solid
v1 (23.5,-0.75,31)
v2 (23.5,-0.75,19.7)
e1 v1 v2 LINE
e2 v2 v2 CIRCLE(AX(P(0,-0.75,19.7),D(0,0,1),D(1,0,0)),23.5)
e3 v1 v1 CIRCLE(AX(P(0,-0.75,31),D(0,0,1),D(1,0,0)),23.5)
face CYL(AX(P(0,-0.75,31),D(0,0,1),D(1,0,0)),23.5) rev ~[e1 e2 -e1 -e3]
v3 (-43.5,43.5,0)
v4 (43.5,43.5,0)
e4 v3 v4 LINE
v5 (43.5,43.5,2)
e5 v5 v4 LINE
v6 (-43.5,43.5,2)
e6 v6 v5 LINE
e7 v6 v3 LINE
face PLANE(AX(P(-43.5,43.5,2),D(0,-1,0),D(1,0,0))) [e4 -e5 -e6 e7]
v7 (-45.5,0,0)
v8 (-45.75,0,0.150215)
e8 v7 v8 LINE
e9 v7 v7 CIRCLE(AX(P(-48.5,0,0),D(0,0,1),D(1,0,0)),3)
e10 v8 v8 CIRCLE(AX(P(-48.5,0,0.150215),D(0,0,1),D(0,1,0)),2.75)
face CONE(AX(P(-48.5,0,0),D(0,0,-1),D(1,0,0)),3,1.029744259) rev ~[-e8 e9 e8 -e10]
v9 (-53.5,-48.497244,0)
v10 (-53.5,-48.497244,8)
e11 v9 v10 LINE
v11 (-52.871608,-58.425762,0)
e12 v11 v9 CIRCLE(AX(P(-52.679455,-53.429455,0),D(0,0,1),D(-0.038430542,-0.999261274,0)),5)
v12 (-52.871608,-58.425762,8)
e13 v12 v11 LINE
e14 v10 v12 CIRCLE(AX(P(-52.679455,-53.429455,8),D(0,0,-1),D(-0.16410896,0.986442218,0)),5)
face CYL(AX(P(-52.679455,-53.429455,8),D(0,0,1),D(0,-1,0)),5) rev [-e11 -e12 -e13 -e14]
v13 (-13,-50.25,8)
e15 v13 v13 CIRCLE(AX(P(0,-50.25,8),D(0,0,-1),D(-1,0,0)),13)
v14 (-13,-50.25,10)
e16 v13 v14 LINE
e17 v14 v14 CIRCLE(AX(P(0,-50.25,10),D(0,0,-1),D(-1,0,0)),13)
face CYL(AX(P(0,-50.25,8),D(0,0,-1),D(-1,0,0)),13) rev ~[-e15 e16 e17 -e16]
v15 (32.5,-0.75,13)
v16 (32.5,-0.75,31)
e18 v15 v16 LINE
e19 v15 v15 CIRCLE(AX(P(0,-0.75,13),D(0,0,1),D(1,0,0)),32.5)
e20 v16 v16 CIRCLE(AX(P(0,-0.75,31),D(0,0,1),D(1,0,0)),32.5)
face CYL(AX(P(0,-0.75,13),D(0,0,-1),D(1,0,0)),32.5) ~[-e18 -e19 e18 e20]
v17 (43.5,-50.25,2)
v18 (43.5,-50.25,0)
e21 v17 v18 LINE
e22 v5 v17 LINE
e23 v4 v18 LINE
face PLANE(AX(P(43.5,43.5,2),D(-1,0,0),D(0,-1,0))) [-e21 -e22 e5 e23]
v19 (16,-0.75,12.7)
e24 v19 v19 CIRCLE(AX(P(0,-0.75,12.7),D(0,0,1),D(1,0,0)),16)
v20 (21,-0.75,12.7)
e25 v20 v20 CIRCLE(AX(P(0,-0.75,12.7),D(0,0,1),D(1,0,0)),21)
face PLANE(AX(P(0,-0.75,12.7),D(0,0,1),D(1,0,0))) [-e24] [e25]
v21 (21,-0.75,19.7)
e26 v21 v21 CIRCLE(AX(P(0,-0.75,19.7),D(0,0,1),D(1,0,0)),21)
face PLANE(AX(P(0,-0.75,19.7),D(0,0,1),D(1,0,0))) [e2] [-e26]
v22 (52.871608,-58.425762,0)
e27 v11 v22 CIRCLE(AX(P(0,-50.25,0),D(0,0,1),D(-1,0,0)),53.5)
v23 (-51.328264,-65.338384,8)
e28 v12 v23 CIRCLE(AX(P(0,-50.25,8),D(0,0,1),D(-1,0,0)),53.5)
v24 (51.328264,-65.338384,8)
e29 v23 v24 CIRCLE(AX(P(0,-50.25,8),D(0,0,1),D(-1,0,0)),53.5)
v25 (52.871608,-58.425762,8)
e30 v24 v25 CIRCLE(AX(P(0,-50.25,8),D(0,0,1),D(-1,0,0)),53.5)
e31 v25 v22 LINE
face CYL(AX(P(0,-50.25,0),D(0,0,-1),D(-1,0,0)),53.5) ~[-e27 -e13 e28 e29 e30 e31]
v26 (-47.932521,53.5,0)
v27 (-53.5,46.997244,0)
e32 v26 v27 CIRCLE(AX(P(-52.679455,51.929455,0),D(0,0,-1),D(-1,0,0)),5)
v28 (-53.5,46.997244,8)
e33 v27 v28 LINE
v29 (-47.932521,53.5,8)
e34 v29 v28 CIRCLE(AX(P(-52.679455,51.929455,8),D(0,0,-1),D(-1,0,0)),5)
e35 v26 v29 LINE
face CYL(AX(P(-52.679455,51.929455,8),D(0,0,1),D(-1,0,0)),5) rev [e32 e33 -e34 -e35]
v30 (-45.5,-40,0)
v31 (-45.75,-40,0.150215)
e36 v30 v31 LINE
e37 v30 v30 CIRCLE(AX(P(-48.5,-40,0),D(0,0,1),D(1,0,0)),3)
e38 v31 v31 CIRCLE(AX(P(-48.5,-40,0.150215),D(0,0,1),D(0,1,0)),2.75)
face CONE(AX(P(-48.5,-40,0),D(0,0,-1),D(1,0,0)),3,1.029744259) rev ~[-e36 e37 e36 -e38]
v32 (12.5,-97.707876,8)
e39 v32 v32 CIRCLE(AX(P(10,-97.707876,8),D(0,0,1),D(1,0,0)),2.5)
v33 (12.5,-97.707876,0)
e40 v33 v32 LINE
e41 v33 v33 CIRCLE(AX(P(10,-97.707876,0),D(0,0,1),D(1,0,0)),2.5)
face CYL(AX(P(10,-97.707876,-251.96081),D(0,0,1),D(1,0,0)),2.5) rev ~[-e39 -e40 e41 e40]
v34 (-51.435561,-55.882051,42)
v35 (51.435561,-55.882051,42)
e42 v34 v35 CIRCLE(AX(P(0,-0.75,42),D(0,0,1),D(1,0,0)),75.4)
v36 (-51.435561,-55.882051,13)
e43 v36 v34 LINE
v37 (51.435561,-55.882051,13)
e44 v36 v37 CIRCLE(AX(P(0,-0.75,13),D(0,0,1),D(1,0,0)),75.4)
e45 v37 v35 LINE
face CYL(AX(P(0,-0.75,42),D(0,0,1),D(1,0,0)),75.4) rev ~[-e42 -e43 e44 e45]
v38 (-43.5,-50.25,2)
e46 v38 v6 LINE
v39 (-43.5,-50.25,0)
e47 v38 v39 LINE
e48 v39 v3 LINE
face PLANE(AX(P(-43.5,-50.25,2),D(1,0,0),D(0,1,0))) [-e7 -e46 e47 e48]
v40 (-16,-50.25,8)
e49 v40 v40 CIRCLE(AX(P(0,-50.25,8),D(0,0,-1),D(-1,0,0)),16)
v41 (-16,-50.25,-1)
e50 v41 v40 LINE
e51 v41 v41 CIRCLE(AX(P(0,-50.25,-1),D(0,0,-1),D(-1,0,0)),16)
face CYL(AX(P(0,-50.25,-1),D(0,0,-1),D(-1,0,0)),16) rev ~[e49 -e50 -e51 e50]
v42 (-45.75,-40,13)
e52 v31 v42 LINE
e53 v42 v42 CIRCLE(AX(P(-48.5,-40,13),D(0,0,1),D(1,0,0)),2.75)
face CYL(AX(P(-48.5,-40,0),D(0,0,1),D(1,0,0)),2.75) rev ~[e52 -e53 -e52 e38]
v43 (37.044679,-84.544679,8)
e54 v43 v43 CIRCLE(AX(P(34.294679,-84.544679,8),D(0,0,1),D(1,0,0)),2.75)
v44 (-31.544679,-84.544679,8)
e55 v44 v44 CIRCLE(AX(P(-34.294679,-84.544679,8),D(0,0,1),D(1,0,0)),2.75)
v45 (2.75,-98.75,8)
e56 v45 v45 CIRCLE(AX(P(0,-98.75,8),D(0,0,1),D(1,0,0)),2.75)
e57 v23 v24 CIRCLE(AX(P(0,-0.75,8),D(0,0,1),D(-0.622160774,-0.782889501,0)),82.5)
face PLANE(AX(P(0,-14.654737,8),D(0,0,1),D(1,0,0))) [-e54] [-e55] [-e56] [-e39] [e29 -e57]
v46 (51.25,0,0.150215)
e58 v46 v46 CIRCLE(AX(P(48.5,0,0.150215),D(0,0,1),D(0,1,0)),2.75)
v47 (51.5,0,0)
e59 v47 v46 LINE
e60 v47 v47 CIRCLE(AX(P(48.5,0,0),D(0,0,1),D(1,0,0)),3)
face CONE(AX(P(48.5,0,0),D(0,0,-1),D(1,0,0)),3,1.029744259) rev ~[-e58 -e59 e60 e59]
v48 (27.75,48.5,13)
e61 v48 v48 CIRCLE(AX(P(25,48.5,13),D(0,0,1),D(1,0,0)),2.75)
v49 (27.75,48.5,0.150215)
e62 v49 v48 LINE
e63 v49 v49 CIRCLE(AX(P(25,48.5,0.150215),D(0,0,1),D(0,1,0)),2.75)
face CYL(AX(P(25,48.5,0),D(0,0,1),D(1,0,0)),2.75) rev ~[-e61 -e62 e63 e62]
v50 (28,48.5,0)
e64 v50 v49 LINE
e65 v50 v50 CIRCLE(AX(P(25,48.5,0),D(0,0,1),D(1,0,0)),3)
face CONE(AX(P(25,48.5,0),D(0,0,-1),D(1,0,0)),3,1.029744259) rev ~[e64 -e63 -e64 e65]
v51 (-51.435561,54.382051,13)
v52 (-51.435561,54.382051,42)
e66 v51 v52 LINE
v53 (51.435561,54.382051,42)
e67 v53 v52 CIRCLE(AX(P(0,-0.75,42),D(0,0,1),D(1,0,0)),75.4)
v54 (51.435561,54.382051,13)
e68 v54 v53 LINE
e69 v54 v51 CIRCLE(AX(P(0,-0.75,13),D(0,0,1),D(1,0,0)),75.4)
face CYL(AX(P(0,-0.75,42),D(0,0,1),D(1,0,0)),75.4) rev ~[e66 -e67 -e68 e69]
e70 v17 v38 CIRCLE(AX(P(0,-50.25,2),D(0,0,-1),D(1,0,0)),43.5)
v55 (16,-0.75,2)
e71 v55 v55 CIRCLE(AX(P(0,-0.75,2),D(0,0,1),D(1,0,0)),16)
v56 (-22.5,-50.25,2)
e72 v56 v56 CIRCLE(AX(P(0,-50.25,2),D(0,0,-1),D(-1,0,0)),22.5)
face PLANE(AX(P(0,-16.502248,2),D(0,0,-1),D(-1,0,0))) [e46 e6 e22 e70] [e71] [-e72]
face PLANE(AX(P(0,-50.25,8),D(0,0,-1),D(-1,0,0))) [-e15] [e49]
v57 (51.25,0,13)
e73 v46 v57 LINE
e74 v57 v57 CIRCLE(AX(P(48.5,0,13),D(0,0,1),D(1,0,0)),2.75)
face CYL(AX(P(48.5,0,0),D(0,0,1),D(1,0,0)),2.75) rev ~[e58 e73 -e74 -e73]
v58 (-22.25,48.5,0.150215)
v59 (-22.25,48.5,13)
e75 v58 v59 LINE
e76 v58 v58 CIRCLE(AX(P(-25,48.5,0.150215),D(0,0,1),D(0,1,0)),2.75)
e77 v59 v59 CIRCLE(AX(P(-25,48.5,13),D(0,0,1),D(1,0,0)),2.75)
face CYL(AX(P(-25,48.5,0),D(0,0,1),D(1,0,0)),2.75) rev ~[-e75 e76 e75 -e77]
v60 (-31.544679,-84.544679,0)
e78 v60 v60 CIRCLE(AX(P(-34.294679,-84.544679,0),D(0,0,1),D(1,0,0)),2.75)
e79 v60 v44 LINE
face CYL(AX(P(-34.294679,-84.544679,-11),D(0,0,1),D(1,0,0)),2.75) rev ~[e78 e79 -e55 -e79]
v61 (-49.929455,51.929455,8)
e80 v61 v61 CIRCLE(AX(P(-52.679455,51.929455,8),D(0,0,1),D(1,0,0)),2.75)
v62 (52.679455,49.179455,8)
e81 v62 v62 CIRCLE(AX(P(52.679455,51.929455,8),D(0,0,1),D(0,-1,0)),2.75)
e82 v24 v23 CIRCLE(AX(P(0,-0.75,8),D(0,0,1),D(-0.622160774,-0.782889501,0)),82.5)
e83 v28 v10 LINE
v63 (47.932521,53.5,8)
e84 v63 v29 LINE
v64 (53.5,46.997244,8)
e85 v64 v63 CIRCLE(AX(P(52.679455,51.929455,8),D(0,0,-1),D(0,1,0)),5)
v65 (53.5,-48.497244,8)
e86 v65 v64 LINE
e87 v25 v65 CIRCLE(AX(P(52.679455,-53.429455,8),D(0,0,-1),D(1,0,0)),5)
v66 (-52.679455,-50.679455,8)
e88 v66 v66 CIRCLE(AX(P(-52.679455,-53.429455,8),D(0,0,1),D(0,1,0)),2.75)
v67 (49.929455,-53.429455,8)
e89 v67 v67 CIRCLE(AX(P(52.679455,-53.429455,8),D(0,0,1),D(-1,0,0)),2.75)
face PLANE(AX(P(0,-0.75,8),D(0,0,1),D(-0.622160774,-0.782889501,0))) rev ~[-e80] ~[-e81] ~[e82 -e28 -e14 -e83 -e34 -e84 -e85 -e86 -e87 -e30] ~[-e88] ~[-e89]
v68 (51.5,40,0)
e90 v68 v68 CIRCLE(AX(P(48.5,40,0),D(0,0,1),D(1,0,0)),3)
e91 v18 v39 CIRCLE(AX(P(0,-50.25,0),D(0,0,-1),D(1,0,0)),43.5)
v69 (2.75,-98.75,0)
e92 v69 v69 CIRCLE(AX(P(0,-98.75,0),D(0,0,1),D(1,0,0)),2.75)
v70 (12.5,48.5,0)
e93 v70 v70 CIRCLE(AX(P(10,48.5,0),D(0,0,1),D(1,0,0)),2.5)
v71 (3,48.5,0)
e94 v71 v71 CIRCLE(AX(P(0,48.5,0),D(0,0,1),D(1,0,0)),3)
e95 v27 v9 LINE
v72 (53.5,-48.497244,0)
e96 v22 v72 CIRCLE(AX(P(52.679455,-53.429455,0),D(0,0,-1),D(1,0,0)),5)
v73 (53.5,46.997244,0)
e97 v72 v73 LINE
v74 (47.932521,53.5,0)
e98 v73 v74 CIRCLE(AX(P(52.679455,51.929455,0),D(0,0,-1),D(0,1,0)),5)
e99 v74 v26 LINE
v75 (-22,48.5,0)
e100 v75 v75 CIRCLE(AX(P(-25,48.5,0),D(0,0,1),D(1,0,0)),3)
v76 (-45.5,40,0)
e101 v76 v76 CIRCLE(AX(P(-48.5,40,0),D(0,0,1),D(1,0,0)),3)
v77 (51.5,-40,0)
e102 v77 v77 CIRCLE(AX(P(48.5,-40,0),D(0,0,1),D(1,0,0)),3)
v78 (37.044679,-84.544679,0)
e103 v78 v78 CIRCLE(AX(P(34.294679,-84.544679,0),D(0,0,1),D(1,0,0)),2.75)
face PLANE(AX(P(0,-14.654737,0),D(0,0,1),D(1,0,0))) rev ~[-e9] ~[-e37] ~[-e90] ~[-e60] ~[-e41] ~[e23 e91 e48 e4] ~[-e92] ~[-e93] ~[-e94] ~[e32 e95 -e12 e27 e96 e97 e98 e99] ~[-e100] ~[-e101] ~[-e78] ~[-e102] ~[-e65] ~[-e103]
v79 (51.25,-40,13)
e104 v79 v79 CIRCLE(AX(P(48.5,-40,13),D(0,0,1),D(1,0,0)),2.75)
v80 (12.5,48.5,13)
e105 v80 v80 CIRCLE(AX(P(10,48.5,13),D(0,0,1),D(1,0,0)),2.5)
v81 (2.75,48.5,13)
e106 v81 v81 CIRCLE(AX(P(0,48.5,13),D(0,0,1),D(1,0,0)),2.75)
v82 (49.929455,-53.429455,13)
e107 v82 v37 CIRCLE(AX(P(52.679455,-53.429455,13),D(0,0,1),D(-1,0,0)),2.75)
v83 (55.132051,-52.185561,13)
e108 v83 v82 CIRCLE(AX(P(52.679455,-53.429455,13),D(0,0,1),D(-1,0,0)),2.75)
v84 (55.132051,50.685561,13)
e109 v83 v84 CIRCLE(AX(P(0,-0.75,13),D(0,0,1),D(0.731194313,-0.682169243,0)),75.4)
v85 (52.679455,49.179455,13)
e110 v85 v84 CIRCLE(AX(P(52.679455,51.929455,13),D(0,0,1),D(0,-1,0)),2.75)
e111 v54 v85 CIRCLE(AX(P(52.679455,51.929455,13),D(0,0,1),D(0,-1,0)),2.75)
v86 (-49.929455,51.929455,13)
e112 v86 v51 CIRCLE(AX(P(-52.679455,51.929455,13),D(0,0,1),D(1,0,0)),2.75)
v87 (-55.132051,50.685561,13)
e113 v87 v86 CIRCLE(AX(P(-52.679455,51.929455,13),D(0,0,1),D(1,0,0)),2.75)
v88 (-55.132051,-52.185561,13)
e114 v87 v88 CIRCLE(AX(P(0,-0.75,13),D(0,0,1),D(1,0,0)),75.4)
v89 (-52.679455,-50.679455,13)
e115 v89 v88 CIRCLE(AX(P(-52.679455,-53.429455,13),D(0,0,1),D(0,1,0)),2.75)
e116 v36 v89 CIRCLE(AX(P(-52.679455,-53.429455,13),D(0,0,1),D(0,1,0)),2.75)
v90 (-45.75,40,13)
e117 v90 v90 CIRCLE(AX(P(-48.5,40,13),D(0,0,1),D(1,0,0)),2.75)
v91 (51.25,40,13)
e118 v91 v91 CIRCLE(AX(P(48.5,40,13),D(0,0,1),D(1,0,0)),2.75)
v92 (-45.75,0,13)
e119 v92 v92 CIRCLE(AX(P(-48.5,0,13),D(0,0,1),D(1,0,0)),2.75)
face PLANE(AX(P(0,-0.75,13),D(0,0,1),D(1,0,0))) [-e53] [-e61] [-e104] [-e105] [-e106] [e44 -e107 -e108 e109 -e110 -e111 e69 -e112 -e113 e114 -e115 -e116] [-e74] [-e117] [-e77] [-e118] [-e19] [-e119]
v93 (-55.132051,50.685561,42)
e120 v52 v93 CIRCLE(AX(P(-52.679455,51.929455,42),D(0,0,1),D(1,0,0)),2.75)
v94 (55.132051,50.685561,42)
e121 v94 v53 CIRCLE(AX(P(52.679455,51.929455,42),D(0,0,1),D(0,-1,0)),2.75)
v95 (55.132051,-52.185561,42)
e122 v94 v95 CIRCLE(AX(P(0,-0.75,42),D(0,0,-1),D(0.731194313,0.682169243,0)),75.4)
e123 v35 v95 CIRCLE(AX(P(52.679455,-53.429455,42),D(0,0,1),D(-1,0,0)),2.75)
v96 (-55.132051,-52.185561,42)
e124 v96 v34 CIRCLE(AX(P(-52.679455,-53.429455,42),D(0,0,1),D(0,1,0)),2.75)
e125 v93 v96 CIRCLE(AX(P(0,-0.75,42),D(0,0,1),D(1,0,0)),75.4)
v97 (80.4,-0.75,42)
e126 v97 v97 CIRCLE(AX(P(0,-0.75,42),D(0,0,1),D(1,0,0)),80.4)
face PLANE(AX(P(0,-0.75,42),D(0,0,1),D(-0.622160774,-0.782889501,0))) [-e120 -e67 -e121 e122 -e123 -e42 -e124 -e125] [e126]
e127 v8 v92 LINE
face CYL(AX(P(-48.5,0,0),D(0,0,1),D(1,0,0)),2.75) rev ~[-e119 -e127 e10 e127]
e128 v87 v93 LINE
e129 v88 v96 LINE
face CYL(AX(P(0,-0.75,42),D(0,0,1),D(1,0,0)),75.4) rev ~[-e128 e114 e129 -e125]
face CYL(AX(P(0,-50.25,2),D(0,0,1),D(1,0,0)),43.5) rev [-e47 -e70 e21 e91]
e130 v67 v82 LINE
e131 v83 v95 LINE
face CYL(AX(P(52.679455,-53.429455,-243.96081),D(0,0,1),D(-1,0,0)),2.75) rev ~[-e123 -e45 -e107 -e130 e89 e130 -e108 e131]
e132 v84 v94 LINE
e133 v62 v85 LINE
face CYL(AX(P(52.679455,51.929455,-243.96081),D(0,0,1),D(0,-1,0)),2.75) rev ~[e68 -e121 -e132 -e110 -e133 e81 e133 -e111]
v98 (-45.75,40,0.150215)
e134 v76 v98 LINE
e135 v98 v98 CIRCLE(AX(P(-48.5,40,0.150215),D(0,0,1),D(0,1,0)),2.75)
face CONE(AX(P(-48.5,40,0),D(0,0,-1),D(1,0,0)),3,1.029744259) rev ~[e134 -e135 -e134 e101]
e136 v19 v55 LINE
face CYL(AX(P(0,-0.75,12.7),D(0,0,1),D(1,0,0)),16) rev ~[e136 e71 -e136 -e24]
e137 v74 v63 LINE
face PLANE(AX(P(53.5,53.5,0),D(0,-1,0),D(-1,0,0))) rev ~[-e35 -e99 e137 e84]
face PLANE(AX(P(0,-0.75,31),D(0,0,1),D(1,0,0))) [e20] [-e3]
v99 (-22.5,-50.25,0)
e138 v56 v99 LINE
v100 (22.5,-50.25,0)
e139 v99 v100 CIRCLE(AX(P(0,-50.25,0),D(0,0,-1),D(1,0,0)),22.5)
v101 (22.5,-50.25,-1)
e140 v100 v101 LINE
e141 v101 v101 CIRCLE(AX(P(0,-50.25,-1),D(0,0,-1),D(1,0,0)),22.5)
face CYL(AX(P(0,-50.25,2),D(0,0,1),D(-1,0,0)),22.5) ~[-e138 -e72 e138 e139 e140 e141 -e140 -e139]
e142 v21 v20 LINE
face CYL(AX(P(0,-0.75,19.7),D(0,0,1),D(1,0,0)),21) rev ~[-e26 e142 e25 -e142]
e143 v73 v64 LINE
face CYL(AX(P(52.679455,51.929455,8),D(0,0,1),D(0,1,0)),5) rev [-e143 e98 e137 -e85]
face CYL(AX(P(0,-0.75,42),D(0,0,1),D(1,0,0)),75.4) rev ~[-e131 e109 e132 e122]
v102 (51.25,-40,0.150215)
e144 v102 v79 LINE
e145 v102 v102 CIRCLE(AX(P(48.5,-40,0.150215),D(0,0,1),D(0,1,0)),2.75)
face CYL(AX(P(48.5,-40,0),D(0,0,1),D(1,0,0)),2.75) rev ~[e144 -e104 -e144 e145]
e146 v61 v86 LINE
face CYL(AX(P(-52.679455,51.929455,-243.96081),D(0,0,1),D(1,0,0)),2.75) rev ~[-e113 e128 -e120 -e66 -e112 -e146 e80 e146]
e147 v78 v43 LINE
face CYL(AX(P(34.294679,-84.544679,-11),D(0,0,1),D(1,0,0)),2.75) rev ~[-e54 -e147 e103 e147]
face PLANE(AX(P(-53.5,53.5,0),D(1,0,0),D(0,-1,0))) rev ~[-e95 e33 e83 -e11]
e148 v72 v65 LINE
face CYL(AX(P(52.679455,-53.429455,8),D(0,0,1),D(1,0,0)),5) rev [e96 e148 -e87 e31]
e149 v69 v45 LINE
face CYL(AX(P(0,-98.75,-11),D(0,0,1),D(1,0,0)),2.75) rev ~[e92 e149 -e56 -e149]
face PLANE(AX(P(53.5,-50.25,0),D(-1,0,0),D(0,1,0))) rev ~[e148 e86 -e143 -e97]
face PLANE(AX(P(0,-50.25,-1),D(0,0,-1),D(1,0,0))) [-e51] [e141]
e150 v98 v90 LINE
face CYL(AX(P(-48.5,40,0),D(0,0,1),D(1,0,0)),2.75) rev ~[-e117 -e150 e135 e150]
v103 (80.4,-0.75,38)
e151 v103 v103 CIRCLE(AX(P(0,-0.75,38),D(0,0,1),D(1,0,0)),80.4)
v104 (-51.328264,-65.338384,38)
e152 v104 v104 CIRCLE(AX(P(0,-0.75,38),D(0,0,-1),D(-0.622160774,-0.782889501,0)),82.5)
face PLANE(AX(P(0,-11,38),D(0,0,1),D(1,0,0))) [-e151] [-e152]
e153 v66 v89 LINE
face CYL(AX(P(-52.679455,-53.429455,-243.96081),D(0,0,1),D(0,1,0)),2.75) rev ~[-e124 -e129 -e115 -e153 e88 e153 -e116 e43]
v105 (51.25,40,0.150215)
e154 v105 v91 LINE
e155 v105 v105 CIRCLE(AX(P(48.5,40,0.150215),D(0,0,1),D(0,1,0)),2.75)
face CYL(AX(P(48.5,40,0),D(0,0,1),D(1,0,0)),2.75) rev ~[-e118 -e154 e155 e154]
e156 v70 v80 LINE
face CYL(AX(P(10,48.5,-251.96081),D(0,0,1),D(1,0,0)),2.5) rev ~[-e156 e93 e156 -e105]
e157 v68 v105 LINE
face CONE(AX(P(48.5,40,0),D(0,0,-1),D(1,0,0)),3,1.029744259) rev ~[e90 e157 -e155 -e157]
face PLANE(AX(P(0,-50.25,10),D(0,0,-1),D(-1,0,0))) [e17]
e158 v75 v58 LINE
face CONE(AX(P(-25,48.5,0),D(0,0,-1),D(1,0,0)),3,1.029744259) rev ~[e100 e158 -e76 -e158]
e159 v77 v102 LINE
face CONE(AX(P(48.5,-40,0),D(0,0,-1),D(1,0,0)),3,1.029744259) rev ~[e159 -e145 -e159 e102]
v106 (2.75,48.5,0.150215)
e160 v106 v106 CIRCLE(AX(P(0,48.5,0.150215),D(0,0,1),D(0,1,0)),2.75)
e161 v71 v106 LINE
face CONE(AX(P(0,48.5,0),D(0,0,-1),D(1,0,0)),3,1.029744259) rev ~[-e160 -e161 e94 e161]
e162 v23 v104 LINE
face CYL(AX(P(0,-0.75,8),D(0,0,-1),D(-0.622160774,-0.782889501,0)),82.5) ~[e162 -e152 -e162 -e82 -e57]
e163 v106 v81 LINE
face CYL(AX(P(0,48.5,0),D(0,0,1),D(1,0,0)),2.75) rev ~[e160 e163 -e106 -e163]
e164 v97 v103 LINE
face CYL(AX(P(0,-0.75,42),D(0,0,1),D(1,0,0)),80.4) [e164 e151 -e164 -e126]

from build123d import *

# Parameters (mm, degrees)
EXTRUS_O1_DEPTH                        = 8
ESBO_O2_R                              = 82.5
EXTRUS_O2_DEPTH                        = 34
ESBO_O3_OUTSIDE_W                      = 217.358
ESBO_O3_OUTSIDE_H                      = 237.858
ESBO_O3_OUTSIDE_R                      = 80.4
CORTE_EXTRUS_O1_DEPTH                  = 4
ESBO_O4_R                              = 75.4
CORTE_EXTRUS_O2_DEPTH                  = 29
ESBO_O5_R                              = 32.5
EXTRUS_O3_DEPTH                        = 18
ESBO_O6_R                              = 23.5
CORTE_EXTRUS_O3_DEPTH                  = 11.3
ESBO_O7_R                              = 21
CORTE_EXTRUS_O4_DEPTH                  = 7
ESBO_O8_R                              = 16
CORTE_EXTRUS_O5_DEPTH                  = 136.752725571
ESBO_O9_R                              = 22.5
EXTRUS_O4_DEPTH                        = 1
ESBO_O10_R                             = 16
CORTE_EXTRUS_O7_DEPTH                  = 9
ESBO_O11_R                             = 13
CORTE_EXTRUS_O8_DEPTH                  = 2
FURO_DE_DI_METRO_5_5_5_5_1_D           = 5.5
FURO_DE_DI_METRO_5_5_5_5_1_CSINK_D     = 6
FURO_DE_DI_METRO_5_5_5_5_1_CSINK_ANGLE = 118
ESBO_O12_R                             = 5
CORTE_EXTRUS_O9_DEPTH                  = 8
FURO_DE_DI_METRO_5_5_5_5_2_D           = 5.5
CIRPATTERN1_COUNT                      = 4
CORTE_EXTRUS_O10_START                 = -2
ESBO_O18_R                             = 22.5
CORTE_EXTRUS_O10_DEPTH                 = 2
FURO_DE_DI_METRO_5_0_5_1_D             = 5
FURO_DE_DI_METRO_5_5_5_5_3_D           = 5.5
FURO_DE_DI_METRO_5_5_5_5_3_DEPTH       = 11
FURO_DE_DI_METRO_5_5_5_5_3_TIP         = 1.652366702


with BuildPart() as part:
    # Esboço1 → Extrusão1 (new body)
    with BuildSketch(Plane.XY):
        with BuildLine():
            Line((-53.5, 53.5), (-53.5, -50.25))
            ThreePointArc((-53.5, -50.25), (0, -103.75), (53.5, -50.25))
            Line((53.5, -50.25), (53.5, 53.5))
            Line((53.5, 53.5), (-53.5, 53.5))
        make_face()
    extrude(amount=EXTRUS_O1_DEPTH)

    # Esboço2 → Extrusão2 (add)
    with BuildSketch(Plane.XY.offset(8)):
        with Locations(Location((0, -0.75, 0), (0, 0, 231.525902072))):
            Circle(ESBO_O2_R)
    extrude(amount=EXTRUS_O2_DEPTH)

    # Esboço3 outside → Corte-extrusão1 (cut)
    with BuildSketch(Plane.XY.offset(42)):
        with Locations((0, -11)):
            Rectangle(ESBO_O3_OUTSIDE_W, ESBO_O3_OUTSIDE_H)
        with Locations((0, -0.75)):
            Circle(ESBO_O3_OUTSIDE_R, mode=Mode.SUBTRACT)
    extrude(amount=-CORTE_EXTRUS_O1_DEPTH, mode=Mode.SUBTRACT)

    # Esboço4 → Corte-extrusão2 (cut)
    with BuildSketch(Plane.XY.offset(42)):
        with Locations((0, -0.75)):
            Circle(ESBO_O4_R)
    extrude(amount=-CORTE_EXTRUS_O2_DEPTH, mode=Mode.SUBTRACT)

    # Esboço5 → Extrusão3 (add)
    with BuildSketch(Plane.XY.offset(13)):
        with Locations((0, -0.75)):
            Circle(ESBO_O5_R)
    extrude(amount=EXTRUS_O3_DEPTH)

    # Esboço6 → Corte-extrusão3 (cut)
    with BuildSketch(Plane.XY.offset(31)):
        with Locations((0, -0.75)):
            Circle(ESBO_O6_R)
    extrude(amount=-CORTE_EXTRUS_O3_DEPTH, mode=Mode.SUBTRACT)

    # Esboço7 → Corte-extrusão4 (cut)
    with BuildSketch(Plane.XY.offset(19.7)):
        with Locations((0, -0.75)):
            Circle(ESBO_O7_R)
    extrude(amount=-CORTE_EXTRUS_O4_DEPTH, mode=Mode.SUBTRACT)

    # Esboço8 → Corte-extrusão5 (cut, through all)
    with BuildSketch(Plane.XY.offset(12.7)):
        with Locations((0, -0.75)):
            Circle(ESBO_O8_R)
    extrude(amount=-CORTE_EXTRUS_O5_DEPTH, mode=Mode.SUBTRACT)

    # Esboço9 → Extrusão4 (add)
    with BuildSketch(Plane(origin=(0, 0, 0), x_dir=(-1, 0, 0), z_dir=(0, 0, -1))):
        with Locations(Location((0, -50.25, 0), (0, 0, 180))):
            Circle(ESBO_O9_R)
    extrude(amount=EXTRUS_O4_DEPTH)

    # Esboço10 → Corte-extrusão7 (cut)
    with BuildSketch(Plane(origin=(0, 0, -1), x_dir=(-1, 0, 0), z_dir=(0, 0, -1))):
        with Locations((0, -50.25)):
            Circle(ESBO_O10_R)
    extrude(amount=-CORTE_EXTRUS_O7_DEPTH, mode=Mode.SUBTRACT)

    # Esboço11 → Corte-extrusão8 (cut)
    with BuildSketch(Plane(origin=(0, 0, 8), x_dir=(-1, 0, 0), z_dir=(0, 0, -1))):
        with Locations((0, -50.25)):
            Circle(ESBO_O11_R)
    extrude(amount=-CORTE_EXTRUS_O8_DEPTH, mode=Mode.SUBTRACT)

    # Furo de diâmetro Ø5.5 (5.5)1 (through all)
    with Locations(Plane(origin=(0, 48.5, 0), x_dir=(-1, 0, 0), z_dir=(0, 0, -1))):
        with Locations((0, 0)):
            furo_de_di_metro_5_5_5_5_1 = CounterSinkHole(FURO_DE_DI_METRO_5_5_5_5_1_D / 2, FURO_DE_DI_METRO_5_5_5_5_1_CSINK_D / 2, counter_sink_angle=FURO_DE_DI_METRO_5_5_5_5_1_CSINK_ANGLE)

    # Esboço12 → Corte-extrusão9 (cut)
    with BuildSketch(Plane(origin=(0, 0, 8), x_dir=(-1, 0, 0), z_dir=(0, 0, -1))):
        with Locations((52.679455198, 51.929455198)):
            Circle(ESBO_O12_R)
    corte_extrus_o9 = extrude(amount=CORTE_EXTRUS_O9_DEPTH, mode=Mode.SUBTRACT)

    # Furo de diâmetro Ø5.5 (5.5)2 (through all)
    with Locations(Plane(origin=(-52.679455198, 51.929455198, 8), x_dir=(-1, 0, 0), z_dir=(0, 0, -1))):
        with Locations((0, 0)):
            furo_de_di_metro_5_5_5_5_2 = Hole(FURO_DE_DI_METRO_5_5_5_5_2_D / 2)

    # CirPattern1: Corte-extrusão9, Furo de diâmetro Ø5.5 (5.5)2 ×4 about axis
    cirpattern1_axis = Axis((0, -0.75, 0), (0, 0, 1))
    add([corte_extrus_o9.rotate(cirpattern1_axis, i * 360 / CIRPATTERN1_COUNT) for i in range(1, CIRPATTERN1_COUNT)], mode=Mode.SUBTRACT)
    add([furo_de_di_metro_5_5_5_5_2.rotate(cirpattern1_axis, i * 360 / CIRPATTERN1_COUNT) for i in range(1, CIRPATTERN1_COUNT)], mode=Mode.SUBTRACT)

    # Esboço-padrão1: Furo de diâmetro Ø5.5 (5.5)1 at 8 more places
    with Locations((-25, 0, 0), (-48.5, -8.5, 0), (-48.5, -48.5, 0), (-48.5, -88.5, 0), (48.5, -88.5, 0), (48.5, -48.5, 0), (48.5, -8.5, 0), (25, 0, 0)):
        add(furo_de_di_metro_5_5_5_5_1, mode=Mode.SUBTRACT)

    # Esboço18 → Corte-extrusão10 (cut)
    with BuildSketch(Plane(origin=(0, 0, 0), x_dir=(-1, 0, 0), z_dir=(0, 0, -1)).offset(CORTE_EXTRUS_O10_START)):
        with BuildLine():
            Line((43.5, -50.25), (43.5, 43.5))
            Line((43.5, 43.5), (-43.5, 43.5))
            Line((-43.5, 43.5), (-43.5, -50.25))
            ThreePointArc((-43.5, -50.25), (0, -93.75), (43.5, -50.25))
        make_face()
        with Locations((0, -50.25)):
            Circle(ESBO_O18_R, mode=Mode.SUBTRACT)
    extrude(amount=CORTE_EXTRUS_O10_DEPTH, mode=Mode.SUBTRACT)

    # Furo de diâmetro Ø5.0 (5)1 (through all)
    with Locations(Plane(origin=(10, 48.5, 0), x_dir=(-1, 0, 0), z_dir=(0, 0, -1))):
        with Locations((0, 0), (0, -146.207876059)):
            Hole(FURO_DE_DI_METRO_5_0_5_1_D / 2)

    # Furo de diâmetro Ø5.5 (5.5)3
    with Locations(Plane(origin=(0, -98.75, 0), x_dir=(-1, 0, 0), z_dir=(0, 0, -1))):
        with Locations((0, 0), (34.294678888, 14.205321112), (-34.294678888, 14.205321112)):
            Hole(FURO_DE_DI_METRO_5_5_5_5_3_D / 2, depth=FURO_DE_DI_METRO_5_5_5_5_3_DEPTH)
            with Locations((0, 0, -(FURO_DE_DI_METRO_5_5_5_5_3_DEPTH + FURO_DE_DI_METRO_5_5_5_5_3_TIP / 2))):  # 118° drill point
                Cone(0, FURO_DE_DI_METRO_5_5_5_5_3_D / 2, FURO_DE_DI_METRO_5_5_5_5_3_TIP, mode=Mode.SUBTRACT)


solid = part.part
